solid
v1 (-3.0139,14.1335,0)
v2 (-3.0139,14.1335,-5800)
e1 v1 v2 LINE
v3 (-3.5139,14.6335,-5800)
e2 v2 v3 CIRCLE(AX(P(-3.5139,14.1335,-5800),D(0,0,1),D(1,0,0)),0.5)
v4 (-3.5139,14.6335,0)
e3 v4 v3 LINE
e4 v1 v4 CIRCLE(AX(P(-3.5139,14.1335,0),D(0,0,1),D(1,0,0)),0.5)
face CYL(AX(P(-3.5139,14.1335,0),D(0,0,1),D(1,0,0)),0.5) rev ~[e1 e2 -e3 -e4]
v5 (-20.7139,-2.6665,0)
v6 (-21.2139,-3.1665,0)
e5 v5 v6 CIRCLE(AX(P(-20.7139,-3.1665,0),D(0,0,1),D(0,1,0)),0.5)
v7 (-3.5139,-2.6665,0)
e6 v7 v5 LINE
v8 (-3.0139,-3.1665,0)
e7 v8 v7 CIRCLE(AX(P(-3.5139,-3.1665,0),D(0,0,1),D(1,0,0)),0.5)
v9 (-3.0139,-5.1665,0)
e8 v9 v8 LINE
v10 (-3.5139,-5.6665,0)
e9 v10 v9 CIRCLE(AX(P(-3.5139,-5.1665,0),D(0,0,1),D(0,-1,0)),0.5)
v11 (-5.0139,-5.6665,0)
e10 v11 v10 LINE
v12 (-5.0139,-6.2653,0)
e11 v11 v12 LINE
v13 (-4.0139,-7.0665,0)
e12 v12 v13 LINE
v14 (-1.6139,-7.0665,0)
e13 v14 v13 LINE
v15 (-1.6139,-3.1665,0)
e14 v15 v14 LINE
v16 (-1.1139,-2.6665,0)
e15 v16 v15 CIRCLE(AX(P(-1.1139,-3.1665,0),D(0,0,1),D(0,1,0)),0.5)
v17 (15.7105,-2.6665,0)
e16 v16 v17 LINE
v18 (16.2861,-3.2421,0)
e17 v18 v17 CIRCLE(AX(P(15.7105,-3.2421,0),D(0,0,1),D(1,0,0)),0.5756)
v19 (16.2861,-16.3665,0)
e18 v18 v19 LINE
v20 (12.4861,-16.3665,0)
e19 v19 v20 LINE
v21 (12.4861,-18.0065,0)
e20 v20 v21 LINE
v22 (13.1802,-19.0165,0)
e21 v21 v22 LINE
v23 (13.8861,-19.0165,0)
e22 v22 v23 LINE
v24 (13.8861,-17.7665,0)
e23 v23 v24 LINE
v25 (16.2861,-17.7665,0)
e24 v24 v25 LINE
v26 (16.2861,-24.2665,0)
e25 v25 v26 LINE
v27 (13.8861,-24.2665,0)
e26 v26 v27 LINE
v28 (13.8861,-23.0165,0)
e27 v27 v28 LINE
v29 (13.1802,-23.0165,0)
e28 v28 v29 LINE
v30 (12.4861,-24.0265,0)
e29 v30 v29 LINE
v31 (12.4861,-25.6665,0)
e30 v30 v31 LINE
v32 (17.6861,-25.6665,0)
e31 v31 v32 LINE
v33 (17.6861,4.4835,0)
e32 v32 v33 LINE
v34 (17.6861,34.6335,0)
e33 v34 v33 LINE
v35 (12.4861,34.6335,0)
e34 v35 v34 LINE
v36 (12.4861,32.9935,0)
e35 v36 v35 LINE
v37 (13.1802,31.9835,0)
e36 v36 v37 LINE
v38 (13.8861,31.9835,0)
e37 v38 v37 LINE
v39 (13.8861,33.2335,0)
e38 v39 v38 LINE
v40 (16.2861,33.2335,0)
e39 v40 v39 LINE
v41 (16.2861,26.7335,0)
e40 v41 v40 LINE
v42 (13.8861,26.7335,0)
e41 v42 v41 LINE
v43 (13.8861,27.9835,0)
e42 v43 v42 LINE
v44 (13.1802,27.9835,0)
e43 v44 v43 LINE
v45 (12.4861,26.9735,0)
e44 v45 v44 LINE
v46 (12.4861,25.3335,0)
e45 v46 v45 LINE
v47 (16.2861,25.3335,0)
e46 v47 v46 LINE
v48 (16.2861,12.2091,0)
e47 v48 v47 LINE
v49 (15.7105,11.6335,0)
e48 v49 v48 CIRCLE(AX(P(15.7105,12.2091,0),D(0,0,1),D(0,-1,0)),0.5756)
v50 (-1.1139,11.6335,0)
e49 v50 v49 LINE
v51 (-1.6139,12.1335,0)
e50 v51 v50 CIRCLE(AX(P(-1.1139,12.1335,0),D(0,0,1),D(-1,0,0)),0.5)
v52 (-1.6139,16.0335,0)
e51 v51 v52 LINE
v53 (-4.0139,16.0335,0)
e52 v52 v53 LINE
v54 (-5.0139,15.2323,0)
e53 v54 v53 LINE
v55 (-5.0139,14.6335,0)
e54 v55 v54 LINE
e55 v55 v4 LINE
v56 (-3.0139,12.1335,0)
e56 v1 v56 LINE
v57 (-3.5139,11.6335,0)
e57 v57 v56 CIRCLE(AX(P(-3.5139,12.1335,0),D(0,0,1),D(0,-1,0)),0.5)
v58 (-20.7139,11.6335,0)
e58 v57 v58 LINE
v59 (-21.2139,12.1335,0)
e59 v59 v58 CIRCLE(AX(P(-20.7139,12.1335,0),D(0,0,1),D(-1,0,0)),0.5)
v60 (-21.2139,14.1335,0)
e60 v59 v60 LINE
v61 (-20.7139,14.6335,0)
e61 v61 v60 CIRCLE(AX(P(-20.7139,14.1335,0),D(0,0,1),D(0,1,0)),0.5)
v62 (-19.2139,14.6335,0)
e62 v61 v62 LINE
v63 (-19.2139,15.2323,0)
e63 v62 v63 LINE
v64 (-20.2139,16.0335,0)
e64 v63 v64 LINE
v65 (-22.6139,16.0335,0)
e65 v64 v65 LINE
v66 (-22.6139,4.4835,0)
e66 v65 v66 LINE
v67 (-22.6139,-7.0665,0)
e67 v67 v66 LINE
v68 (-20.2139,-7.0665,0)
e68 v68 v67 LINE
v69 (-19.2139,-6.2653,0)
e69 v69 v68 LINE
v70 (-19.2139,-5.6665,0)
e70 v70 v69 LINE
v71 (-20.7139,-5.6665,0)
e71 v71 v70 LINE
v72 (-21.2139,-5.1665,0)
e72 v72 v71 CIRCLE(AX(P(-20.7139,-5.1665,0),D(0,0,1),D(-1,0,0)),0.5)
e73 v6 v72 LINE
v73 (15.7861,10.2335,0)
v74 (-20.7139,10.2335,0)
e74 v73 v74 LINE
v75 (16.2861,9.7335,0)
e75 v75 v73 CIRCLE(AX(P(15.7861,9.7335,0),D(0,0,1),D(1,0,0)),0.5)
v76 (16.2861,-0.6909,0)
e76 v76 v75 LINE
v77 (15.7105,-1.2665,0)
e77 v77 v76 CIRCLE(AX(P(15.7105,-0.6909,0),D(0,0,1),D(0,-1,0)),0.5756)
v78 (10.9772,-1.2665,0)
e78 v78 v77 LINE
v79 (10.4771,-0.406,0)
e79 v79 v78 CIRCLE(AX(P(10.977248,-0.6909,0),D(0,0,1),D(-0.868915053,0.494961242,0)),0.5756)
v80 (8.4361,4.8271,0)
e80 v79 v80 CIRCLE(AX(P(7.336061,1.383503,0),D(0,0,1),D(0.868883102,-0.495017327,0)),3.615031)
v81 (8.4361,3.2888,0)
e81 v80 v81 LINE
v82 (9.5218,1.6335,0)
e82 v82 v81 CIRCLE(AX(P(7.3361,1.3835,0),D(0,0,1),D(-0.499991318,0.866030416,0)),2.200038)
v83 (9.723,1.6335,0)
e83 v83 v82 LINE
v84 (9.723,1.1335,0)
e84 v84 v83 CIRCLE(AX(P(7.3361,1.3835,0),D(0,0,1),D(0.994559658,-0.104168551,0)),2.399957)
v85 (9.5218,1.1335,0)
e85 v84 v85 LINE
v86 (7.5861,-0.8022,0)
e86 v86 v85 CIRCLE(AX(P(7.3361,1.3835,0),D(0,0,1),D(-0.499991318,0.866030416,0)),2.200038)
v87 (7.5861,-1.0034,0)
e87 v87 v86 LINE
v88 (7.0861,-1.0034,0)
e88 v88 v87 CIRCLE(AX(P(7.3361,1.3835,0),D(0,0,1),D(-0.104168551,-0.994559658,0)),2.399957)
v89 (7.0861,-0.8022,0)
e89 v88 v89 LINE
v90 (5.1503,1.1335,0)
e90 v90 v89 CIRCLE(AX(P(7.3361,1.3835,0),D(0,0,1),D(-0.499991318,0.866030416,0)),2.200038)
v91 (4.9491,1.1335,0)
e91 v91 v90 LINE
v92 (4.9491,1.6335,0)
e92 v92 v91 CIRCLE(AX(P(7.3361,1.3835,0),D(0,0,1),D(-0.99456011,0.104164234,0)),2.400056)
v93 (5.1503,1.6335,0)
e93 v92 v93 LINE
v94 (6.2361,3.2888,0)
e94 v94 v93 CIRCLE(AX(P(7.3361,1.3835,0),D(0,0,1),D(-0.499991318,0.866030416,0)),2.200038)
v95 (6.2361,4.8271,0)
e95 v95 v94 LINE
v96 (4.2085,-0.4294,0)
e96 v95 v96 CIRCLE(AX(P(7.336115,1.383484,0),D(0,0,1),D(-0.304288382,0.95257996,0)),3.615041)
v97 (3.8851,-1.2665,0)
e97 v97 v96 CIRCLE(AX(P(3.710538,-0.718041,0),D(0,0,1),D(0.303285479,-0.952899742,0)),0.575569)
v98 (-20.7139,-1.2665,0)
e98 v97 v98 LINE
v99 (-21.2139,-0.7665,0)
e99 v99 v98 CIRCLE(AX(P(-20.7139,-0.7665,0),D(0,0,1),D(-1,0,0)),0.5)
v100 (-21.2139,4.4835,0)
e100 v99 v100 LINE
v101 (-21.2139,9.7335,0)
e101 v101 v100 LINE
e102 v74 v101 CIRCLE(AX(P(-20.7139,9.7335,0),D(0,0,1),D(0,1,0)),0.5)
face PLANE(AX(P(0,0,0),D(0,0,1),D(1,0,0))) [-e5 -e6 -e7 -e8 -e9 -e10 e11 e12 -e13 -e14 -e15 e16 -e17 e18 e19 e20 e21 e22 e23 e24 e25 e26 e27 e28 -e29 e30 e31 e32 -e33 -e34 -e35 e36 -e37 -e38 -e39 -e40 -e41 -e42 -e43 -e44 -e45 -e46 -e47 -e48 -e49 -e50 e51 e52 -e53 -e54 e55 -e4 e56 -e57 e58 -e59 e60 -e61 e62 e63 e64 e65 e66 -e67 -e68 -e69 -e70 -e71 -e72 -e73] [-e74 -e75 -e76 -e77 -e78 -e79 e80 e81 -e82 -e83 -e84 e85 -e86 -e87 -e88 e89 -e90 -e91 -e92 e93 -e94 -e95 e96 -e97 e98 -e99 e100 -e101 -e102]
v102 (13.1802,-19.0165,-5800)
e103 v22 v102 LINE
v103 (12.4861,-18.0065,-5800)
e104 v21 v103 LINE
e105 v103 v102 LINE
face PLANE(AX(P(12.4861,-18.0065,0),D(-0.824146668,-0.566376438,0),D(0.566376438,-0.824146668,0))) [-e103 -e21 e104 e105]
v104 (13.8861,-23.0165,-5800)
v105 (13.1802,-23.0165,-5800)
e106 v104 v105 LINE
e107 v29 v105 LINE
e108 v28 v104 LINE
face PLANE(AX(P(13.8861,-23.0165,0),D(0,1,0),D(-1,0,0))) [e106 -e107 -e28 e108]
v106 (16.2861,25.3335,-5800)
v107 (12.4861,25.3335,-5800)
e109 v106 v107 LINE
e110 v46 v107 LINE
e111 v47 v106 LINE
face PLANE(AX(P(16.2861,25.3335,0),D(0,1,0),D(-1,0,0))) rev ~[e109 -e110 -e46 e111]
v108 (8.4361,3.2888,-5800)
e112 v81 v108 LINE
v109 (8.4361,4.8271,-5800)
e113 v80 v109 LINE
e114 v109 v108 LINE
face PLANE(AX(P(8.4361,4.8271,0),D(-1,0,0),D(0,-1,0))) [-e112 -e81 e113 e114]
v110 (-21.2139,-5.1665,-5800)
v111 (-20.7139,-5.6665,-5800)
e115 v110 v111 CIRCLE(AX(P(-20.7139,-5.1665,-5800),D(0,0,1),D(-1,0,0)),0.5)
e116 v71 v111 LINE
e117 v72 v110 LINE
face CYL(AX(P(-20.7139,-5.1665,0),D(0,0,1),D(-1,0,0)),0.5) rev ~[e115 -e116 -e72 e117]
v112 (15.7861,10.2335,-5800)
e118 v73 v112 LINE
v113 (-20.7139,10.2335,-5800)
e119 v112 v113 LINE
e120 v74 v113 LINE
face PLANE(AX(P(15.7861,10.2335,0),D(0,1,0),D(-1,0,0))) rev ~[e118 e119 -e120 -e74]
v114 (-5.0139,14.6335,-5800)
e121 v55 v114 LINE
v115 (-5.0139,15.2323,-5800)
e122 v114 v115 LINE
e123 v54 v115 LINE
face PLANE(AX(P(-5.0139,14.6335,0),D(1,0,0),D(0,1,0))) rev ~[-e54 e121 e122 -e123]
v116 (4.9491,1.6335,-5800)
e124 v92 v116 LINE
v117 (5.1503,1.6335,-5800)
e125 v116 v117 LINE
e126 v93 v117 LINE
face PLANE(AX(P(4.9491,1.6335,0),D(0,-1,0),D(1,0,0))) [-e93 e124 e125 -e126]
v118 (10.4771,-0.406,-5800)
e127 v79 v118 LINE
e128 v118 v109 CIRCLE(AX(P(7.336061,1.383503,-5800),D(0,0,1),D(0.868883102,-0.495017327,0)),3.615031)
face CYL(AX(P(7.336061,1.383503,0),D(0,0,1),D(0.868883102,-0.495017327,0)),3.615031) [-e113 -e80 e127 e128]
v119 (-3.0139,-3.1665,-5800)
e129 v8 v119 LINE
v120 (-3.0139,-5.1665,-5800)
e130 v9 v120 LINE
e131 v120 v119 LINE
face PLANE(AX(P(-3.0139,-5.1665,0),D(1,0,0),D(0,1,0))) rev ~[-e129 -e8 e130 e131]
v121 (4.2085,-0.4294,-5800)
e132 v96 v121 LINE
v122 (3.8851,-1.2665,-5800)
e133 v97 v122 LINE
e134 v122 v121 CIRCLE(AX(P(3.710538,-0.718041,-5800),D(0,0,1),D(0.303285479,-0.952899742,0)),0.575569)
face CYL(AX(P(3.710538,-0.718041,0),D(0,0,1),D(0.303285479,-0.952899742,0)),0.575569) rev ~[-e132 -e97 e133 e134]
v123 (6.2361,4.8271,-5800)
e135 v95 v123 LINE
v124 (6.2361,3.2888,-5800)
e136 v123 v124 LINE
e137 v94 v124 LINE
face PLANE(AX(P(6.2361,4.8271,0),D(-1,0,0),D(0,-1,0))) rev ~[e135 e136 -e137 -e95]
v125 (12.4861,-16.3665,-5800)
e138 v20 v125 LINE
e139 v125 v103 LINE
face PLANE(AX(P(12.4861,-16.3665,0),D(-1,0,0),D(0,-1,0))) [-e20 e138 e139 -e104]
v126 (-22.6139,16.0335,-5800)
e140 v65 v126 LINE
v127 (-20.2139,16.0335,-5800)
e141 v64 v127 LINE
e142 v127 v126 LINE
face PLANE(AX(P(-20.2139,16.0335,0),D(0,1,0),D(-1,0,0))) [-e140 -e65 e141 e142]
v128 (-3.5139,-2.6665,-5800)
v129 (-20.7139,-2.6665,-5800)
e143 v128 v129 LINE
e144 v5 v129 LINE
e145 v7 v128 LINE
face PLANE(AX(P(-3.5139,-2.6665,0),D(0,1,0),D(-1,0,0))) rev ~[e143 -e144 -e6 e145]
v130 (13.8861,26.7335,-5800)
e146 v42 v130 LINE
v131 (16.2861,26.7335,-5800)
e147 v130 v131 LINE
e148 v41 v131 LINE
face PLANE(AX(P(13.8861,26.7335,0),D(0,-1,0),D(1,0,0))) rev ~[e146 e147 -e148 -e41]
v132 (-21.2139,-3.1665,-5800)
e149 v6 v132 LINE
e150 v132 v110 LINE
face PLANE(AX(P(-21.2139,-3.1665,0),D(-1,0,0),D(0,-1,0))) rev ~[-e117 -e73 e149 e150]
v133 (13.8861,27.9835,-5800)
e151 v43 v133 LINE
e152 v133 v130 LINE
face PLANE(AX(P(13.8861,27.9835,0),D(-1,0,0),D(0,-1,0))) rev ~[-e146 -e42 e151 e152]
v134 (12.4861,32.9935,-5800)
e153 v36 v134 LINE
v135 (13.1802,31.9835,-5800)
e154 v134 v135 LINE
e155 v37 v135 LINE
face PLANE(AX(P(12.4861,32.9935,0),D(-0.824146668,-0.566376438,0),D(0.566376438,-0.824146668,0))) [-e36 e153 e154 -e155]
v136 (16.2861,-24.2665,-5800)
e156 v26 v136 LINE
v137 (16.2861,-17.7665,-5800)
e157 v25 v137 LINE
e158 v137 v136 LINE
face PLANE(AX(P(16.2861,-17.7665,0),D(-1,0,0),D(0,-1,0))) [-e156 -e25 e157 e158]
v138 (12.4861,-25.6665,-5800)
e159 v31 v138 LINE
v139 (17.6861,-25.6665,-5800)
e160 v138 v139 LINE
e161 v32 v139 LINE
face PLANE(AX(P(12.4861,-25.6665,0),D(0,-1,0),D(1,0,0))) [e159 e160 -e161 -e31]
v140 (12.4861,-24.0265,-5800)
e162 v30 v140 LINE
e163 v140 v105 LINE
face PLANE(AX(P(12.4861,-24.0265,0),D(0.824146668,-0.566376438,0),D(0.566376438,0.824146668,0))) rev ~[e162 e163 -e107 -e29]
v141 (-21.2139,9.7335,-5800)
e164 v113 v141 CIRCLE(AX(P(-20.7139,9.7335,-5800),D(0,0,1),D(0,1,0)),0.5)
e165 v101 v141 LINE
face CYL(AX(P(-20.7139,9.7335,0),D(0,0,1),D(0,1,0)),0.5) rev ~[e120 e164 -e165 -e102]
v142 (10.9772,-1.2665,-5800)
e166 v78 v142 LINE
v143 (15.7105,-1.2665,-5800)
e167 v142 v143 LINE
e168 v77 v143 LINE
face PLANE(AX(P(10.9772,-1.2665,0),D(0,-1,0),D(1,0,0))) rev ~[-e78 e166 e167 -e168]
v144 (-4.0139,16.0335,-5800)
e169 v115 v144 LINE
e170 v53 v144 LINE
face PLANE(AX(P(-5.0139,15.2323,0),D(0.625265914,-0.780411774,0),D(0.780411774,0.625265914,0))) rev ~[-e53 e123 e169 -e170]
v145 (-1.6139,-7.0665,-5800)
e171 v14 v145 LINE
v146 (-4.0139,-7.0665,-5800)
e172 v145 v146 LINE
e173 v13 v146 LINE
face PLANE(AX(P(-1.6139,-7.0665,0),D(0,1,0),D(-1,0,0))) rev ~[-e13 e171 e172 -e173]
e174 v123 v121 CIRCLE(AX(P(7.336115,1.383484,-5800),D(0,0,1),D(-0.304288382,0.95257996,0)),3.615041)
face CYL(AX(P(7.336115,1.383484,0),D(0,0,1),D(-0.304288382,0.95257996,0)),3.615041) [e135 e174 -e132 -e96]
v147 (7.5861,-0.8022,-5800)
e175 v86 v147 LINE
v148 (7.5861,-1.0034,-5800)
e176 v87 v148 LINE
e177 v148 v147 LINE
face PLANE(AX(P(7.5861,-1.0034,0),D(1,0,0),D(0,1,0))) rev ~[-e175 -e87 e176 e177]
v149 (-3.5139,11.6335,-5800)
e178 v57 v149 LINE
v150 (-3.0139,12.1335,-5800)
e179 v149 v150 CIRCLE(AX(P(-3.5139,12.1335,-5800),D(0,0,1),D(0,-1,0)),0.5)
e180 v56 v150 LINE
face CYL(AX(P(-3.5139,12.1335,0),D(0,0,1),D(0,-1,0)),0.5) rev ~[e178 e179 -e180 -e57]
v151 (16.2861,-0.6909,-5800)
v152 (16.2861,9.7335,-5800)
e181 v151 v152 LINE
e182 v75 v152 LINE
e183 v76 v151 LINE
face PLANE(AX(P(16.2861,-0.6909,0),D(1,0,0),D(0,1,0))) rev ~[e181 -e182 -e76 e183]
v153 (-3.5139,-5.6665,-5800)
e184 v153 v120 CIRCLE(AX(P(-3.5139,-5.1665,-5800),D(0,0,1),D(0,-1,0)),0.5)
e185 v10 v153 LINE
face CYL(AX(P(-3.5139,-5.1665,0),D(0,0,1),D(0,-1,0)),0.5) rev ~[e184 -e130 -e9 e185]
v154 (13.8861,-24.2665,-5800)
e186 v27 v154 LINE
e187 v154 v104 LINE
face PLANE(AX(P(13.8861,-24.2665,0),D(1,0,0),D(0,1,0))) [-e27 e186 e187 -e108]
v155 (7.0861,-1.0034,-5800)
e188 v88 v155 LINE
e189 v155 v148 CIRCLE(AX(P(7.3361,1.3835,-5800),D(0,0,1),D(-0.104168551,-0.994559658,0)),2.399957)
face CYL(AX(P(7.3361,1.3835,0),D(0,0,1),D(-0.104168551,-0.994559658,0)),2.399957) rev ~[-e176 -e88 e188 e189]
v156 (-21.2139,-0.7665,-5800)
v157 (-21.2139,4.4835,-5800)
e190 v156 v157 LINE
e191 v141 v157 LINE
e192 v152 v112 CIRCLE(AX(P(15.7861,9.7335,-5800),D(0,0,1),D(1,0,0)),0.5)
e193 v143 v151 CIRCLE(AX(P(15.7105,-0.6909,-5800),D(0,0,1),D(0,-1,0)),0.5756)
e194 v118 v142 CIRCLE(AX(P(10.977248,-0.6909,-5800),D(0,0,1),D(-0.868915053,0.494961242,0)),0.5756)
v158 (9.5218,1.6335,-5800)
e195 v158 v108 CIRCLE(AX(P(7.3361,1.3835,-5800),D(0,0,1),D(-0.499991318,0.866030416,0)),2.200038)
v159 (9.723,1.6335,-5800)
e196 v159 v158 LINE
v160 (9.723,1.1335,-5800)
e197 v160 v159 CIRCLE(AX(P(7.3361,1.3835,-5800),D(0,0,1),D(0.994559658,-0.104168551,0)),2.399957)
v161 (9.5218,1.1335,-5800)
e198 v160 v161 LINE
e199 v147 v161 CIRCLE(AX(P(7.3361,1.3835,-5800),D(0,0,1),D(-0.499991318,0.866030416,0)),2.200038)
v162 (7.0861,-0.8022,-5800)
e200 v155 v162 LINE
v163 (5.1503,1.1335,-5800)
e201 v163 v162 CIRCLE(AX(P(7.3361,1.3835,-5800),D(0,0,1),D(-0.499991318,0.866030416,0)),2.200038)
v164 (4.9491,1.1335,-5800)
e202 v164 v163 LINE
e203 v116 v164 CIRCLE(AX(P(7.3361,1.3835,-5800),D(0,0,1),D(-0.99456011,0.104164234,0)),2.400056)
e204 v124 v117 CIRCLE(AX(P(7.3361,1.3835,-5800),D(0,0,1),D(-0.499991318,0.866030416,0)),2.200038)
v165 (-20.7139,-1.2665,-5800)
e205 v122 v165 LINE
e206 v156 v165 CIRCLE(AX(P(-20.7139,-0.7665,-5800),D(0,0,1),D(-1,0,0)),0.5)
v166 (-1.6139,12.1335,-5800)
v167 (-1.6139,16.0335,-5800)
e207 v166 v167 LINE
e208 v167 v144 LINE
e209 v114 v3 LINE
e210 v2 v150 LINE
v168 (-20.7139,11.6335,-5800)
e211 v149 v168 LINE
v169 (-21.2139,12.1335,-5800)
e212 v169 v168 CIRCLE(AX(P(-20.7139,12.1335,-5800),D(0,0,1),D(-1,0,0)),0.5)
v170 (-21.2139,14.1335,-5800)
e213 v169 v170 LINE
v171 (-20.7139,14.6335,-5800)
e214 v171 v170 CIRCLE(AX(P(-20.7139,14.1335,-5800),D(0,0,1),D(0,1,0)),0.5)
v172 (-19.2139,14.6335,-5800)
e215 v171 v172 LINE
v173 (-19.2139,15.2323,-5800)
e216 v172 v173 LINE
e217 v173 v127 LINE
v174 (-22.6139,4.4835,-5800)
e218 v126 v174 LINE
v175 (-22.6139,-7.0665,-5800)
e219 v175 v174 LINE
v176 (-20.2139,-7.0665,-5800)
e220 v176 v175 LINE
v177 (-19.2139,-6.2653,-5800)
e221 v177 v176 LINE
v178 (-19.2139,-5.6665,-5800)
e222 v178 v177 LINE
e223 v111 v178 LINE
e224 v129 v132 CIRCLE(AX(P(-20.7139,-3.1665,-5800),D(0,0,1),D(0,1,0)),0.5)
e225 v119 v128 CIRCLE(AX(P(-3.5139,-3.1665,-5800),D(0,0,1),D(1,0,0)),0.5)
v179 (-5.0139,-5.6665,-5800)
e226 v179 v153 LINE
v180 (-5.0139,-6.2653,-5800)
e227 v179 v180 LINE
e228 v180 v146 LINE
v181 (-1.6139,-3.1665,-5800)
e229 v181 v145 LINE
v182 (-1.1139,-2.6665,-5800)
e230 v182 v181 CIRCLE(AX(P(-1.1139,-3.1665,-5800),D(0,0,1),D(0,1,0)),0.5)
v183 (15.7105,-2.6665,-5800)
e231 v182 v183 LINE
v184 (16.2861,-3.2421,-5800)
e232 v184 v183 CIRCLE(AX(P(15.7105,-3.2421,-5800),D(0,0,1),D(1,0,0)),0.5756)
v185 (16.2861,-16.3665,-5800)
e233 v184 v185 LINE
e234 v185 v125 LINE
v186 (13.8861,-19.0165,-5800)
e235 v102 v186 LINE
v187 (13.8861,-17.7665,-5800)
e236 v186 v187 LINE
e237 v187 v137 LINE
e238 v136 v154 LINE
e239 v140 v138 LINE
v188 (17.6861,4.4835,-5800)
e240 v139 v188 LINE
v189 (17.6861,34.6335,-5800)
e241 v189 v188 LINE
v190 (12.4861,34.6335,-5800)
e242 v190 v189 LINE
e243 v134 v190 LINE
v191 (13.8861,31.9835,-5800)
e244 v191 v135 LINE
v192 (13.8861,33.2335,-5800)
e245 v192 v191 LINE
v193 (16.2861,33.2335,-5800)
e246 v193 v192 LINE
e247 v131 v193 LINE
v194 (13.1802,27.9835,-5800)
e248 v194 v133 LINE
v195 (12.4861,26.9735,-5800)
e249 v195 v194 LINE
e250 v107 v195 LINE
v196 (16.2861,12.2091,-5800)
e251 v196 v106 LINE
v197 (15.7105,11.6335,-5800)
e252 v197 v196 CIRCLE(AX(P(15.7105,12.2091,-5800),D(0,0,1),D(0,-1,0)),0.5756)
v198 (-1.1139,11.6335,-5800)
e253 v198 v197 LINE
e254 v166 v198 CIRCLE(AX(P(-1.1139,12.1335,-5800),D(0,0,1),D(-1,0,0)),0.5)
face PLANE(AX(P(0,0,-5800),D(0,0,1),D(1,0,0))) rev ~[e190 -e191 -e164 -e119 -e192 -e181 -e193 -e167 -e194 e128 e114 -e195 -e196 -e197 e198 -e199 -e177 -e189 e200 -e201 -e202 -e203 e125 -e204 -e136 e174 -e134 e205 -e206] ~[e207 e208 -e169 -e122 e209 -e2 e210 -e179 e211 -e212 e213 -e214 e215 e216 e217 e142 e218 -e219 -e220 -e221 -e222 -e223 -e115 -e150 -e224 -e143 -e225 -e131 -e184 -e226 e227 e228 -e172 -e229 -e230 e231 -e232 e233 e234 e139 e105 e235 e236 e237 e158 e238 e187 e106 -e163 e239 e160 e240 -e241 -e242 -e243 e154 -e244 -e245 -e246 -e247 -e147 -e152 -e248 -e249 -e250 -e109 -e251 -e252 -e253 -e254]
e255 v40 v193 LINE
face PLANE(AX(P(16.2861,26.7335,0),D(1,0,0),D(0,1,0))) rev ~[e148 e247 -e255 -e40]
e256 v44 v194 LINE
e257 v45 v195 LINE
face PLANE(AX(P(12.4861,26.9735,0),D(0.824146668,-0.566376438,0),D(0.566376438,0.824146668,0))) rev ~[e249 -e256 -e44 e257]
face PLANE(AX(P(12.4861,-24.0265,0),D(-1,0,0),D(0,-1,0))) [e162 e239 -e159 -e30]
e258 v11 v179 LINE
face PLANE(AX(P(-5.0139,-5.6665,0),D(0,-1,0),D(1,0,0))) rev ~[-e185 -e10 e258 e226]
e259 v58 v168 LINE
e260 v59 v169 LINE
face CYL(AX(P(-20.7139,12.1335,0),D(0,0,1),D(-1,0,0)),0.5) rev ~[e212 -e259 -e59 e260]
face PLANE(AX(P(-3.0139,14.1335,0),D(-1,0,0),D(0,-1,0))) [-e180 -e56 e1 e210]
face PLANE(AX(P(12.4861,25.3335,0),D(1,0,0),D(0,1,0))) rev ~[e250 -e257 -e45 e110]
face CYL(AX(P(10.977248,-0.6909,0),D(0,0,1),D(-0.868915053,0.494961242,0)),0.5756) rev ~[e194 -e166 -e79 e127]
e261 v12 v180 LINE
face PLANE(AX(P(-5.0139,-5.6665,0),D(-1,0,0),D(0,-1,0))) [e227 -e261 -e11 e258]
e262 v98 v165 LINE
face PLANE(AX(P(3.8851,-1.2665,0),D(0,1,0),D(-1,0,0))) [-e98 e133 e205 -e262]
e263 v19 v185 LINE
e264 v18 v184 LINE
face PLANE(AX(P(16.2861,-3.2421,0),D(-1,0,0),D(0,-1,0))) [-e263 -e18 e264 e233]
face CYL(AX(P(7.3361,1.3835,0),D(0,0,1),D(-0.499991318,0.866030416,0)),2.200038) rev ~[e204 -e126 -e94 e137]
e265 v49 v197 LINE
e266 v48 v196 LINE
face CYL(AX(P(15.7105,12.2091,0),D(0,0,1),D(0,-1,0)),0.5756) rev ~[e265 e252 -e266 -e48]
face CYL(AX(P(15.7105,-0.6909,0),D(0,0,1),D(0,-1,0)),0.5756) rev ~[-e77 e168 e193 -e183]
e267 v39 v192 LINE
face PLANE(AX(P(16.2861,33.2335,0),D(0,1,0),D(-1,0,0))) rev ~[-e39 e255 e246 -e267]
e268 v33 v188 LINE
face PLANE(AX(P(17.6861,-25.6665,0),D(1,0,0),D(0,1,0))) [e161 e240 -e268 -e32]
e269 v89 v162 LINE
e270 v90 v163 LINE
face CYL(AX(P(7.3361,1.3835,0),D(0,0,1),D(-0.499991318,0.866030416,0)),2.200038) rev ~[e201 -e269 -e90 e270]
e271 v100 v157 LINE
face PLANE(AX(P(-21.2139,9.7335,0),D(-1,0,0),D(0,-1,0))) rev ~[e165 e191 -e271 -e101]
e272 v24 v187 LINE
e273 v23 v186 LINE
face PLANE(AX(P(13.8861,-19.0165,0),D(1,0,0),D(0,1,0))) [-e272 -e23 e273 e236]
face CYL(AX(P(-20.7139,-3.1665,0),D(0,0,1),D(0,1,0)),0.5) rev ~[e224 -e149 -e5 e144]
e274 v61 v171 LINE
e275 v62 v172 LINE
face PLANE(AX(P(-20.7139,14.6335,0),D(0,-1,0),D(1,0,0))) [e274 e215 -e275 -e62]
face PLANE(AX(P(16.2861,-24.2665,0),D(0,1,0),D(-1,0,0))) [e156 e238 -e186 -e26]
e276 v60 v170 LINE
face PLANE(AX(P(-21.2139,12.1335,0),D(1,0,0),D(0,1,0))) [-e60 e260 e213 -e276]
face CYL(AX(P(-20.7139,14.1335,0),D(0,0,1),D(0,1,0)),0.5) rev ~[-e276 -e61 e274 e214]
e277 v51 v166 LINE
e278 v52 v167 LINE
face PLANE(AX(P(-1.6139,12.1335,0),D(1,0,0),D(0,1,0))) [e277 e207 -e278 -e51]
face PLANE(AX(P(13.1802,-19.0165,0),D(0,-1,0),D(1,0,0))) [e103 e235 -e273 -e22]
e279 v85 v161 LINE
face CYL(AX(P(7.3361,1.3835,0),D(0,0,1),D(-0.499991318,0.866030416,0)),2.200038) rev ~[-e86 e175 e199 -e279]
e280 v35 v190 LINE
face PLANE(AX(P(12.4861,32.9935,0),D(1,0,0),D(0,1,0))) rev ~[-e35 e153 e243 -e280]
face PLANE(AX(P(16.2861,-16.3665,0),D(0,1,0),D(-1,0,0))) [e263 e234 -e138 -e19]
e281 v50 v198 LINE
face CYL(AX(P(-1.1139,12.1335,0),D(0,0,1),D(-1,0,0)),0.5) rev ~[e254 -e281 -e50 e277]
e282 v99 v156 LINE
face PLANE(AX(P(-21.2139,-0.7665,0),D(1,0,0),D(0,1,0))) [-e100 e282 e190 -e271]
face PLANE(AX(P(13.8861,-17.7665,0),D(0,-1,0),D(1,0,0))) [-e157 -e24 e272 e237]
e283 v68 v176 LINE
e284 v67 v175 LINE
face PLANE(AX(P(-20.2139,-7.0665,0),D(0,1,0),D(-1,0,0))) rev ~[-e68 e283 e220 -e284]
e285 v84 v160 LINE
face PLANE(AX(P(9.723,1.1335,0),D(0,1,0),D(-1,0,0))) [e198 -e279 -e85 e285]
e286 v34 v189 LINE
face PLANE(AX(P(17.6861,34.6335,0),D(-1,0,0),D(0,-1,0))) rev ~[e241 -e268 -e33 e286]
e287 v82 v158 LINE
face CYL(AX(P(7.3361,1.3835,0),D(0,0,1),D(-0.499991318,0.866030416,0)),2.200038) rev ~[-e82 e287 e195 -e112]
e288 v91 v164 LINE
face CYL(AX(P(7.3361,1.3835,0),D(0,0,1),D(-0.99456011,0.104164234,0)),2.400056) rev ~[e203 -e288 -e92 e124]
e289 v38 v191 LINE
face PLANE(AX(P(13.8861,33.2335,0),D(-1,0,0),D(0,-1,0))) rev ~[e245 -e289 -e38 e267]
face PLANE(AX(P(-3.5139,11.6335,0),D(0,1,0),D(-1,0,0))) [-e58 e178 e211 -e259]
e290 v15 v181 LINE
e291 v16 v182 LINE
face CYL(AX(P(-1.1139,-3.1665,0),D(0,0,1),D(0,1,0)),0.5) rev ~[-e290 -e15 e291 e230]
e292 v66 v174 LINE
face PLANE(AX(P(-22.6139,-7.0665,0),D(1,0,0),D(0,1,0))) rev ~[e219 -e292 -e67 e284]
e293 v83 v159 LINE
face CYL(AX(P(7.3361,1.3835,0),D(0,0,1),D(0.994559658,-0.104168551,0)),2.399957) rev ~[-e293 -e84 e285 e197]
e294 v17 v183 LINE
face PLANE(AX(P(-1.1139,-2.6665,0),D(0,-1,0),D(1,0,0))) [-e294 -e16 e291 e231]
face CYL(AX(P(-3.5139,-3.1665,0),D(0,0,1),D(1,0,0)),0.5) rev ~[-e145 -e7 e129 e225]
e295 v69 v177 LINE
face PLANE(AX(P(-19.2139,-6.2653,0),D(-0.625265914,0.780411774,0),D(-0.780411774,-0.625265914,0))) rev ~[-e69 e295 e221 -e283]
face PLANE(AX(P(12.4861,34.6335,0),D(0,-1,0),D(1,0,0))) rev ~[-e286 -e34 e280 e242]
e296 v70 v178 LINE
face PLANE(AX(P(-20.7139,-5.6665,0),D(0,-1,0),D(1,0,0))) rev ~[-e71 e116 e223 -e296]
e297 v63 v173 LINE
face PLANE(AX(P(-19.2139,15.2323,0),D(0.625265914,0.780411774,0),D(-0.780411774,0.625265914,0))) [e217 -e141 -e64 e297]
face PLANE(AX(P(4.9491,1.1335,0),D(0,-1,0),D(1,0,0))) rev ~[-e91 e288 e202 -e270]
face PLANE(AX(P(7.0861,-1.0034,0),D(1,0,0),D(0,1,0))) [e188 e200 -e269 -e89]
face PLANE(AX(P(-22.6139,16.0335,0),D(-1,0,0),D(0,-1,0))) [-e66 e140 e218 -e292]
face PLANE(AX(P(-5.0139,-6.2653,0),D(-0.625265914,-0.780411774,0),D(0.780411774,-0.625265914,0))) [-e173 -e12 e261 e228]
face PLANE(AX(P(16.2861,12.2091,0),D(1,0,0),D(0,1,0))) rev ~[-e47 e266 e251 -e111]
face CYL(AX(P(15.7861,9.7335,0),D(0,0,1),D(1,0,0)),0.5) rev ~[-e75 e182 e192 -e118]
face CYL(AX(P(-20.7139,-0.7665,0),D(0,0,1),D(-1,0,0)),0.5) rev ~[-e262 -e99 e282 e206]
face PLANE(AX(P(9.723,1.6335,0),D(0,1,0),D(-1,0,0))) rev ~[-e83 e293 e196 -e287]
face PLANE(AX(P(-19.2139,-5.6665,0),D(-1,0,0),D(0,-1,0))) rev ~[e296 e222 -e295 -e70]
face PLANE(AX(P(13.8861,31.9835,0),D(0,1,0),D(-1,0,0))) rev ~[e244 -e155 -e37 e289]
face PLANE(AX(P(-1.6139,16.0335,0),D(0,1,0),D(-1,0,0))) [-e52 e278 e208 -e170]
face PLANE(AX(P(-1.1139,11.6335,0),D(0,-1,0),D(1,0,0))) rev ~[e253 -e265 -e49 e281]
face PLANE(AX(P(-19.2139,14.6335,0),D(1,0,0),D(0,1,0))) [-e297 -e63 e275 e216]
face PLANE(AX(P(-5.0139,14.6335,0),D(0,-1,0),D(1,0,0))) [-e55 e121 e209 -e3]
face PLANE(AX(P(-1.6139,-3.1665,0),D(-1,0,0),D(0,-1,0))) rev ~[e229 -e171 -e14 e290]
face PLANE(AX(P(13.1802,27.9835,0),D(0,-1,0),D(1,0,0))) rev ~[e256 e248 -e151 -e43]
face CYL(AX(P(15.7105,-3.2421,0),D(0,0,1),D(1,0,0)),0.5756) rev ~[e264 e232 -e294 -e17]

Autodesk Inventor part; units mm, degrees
ref_plane "YZ Plane" through (0, 0, 0) normal (1, 0, 0) x (0, 1, 0)
ref_plane "XZ Plane" through (0, 0, 0) normal (0, 1, 0) x (-1, 0, 0)
ref_plane "XY Plane" through (0, 0, 0) normal (0, 0, 1) x (1, 0, 0)
sketch "Boceto1" plane through (0, 0, 0) normal (0, 0, 1) x (1, 0, 0)
  line L0 (-1.1139, -2.6665) -> (15.7105, -2.6665)
  line L1 (16.2861, -3.2421) -> (16.2861, -16.3665)
  line L2 (16.2861, -16.3665) -> (12.4861, -16.3665)
  line L3 (12.4861, -16.3665) -> (12.4861, -18.0065)
  line L4 (13.1802, -19.0165) -> (13.8861, -19.0165)
  line L5 (13.8861, -19.0165) -> (13.8861, -17.7665)
  line L6 (13.8861, -17.7665) -> (16.2861, -17.7665)
  line L7 (16.2861, -17.7665) -> (16.2861, -24.2665)
  line L8 (16.2861, -24.2665) -> (13.8861, -24.2665)
  line L9 (13.8861, -24.2665) -> (13.8861, -23.0165)
  line L10 (13.8861, -23.0165) -> (13.1802, -23.0165)
  line L11 (12.4861, -24.0265) -> (12.4861, -25.6665)
  line L12 (12.4861, -25.6665) -> (17.6861, -25.6665)
  line L13 (17.6861, -25.6665) -> (17.6861, 4.4835)
  line L14 (16.2861, -0.6909) -> (16.2861, 9.7335)
  line L15 (7.3361, 2.6189) -> (7.3361, -2.6665) construction
  arc A0 (6.2361, 3.2888) -> (8.4361, 3.2888) centre (7.3361, 1.3835) ccw
  line L16 (4.9491, 1.1335) -> (5.1503, 1.1335)
  line L17 (4.9491, 1.6335) -> (5.1503, 1.6335)
  line L18 (10.9772, -1.2665) -> (15.7105, -1.2665)
  line L19 (9.723, 1.1335) -> (9.5218, 1.1335)
  line L20 (9.723, 1.6335) -> (9.5218, 1.6335)
  line L21 (7.5861, -1.0034) -> (7.5861, -0.8022)
  line L22 (7.0861, -1.0034) -> (7.0861, -0.8022)
  arc A1 (7.0861, -1.0034) -> (7.5861, -1.0034) centre (7.3361, 1.3835) ccw
  arc A2 (9.723, 1.1335) -> (9.723, 1.6335) centre (7.3361, 1.3835) ccw
  arc A3 (4.9491, 1.6335) -> (4.9491, 1.1335) centre (7.3361, 1.3835) ccw
  circle A4 centre (7.3361, 1.3835) radius 2.4 construction
  line L23 (6.2361, 4.8271) -> (6.2361, 3.2888)
  line L24 (8.4361, 4.8271) -> (8.4361, 3.2888)
  arc A5 (10.4771, -0.406) -> (8.4361, 4.8271) centre (7.3361, 1.3835) ccw
  arc A6 (6.2361, 4.8271) -> (4.2085, -0.4294) centre (7.3361, 1.3835) ccw
  line L25 (12.4861, -18.0065) -> (13.1802, -19.0165)
  line L26 (12.4861, -24.0265) -> (13.1802, -23.0165)
  arc A7 (15.7105, -1.2665) -> (16.2861, -0.6909) centre (15.7105, -0.6909) ccw
  arc A8 (16.2861, -3.2421) -> (15.7105, -2.6665) centre (15.7105, -3.2421) ccw
  arc A9 (3.8851, -1.2665) -> (4.2085, -0.4294) centre (3.7105, -0.718) ccw
  arc A10 (10.4771, -0.406) -> (10.9772, -1.2665) centre (10.9772, -0.6909) ccw
  line L27 (-26.537, 4.4835) -> (21.9694, 4.4835) construction
  line L28 (-1.6139, -3.1665) -> (-1.6139, -7.0665)
  line L29 (-1.6139, -7.0665) -> (-4.0139, -7.0665)
  line L30 (-5.0139, -5.6665) -> (-3.5139, -5.6665)
  line L31 (-3.0139, -5.1665) -> (-3.0139, -3.1665)
  line L32 (-3.5139, -2.6665) -> (-20.7139, -2.6665)
  line L33 (-21.2139, -3.1665) -> (-21.2139, -5.1665)
  line L34 (-20.7139, -5.6665) -> (-19.2139, -5.6665)
  line L35 (-20.2139, -7.0665) -> (-22.6139, -7.0665)
  line L36 (3.8851, -1.2665) -> (-20.7139, -1.2665)
  line L37 (-21.2139, -0.7665) -> (-21.2139, 4.4835)
  line L38 (-22.6139, -7.0665) -> (-22.6139, 4.4835)
  line L39 (-19.2139, -5.6665) -> (-19.2139, -6.2653)
  line L40 (-19.2139, -6.2653) -> (-20.2139, -7.0665)
  line L41 (-5.0139, -5.6665) -> (-5.0139, -6.2653)
  line L42 (-5.0139, -6.2653) -> (-4.0139, -7.0665)
  line L43 (4.3997, 1.3835) -> (10.1666, 1.3835) construction
  arc A11 (-1.1139, -2.6665) -> (-1.6139, -3.1665) centre (-1.1139, -3.1665) ccw
  arc A12 (-3.0139, -3.1665) -> (-3.5139, -2.6665) centre (-3.5139, -3.1665) ccw
  arc A13 (-3.5139, -5.6665) -> (-3.0139, -5.1665) centre (-3.5139, -5.1665) ccw
  arc A14 (-20.7139, -2.6665) -> (-21.2139, -3.1665) centre (-20.7139, -3.1665) ccw
  arc A15 (-21.2139, -5.1665) -> (-20.7139, -5.6665) centre (-20.7139, -5.1665) ccw
  arc A16 (-21.2139, -0.7665) -> (-20.7139, -1.2665) centre (-20.7139, -0.7665) ccw
  line L44 (-1.1139, 11.6335) -> (15.7105, 11.6335)
  line L45 (16.2861, 12.2091) -> (16.2861, 25.3335)
  line L46 (16.2861, 25.3335) -> (12.4861, 25.3335)
  line L47 (12.4861, 25.3335) -> (12.4861, 26.9735)
  line L48 (13.1802, 27.9835) -> (13.8861, 27.9835)
  line L49 (13.8861, 27.9835) -> (13.8861, 26.7335)
  line L50 (13.8861, 26.7335) -> (16.2861, 26.7335)
  line L51 (16.2861, 26.7335) -> (16.2861, 33.2335)
  line L52 (16.2861, 33.2335) -> (13.8861, 33.2335)
  line L53 (13.8861, 33.2335) -> (13.8861, 31.9835)
  line L54 (13.8861, 31.9835) -> (13.1802, 31.9835)
  line L55 (12.4861, 32.9935) -> (12.4861, 34.6335)
  line L56 (12.4861, 34.6335) -> (17.6861, 34.6335)
  line L57 (17.6861, 34.6335) -> (17.6861, 4.4835)
  line L58 (12.4861, 26.9735) -> (13.1802, 27.9835)
  line L59 (12.4861, 32.9935) -> (13.1802, 31.9835)
  arc A17 (15.7105, 11.6335) -> (16.2861, 12.2091) centre (15.7105, 12.2091) ccw
  line L60 (-1.6139, 12.1335) -> (-1.6139, 16.0335)
  line L61 (-1.6139, 16.0335) -> (-4.0139, 16.0335)
  line L62 (-5.0139, 14.6335) -> (-3.5139, 14.6335)
  line L63 (-3.0139, 14.1335) -> (-3.0139, 12.1335)
  line L64 (-3.5139, 11.6335) -> (-20.7139, 11.6335)
  line L65 (-21.2139, 12.1335) -> (-21.2139, 14.1335)
  line L66 (-20.7139, 14.6335) -> (-19.2139, 14.6335)
  line L67 (-20.2139, 16.0335) -> (-22.6139, 16.0335)
  line L68 (15.7861, 10.2335) -> (-20.7139, 10.2335)
  line L69 (-21.2139, 9.7335) -> (-21.2139, 4.4835)
  line L70 (-22.6139, 16.0335) -> (-22.6139, 4.4835)
  line L71 (-19.2139, 14.6335) -> (-19.2139, 15.2323)
  line L72 (-19.2139, 15.2323) -> (-20.2139, 16.0335)
  line L73 (-5.0139, 14.6335) -> (-5.0139, 15.2323)
  line L74 (-5.0139, 15.2323) -> (-4.0139, 16.0335)
  arc A18 (-1.6139, 12.1335) -> (-1.1139, 11.6335) centre (-1.1139, 12.1335) ccw
  arc A19 (-3.5139, 11.6335) -> (-3.0139, 12.1335) centre (-3.5139, 12.1335) ccw
  arc A20 (-3.0139, 14.1335) -> (-3.5139, 14.6335) centre (-3.5139, 14.1335) ccw
  arc A21 (-21.2139, 12.1335) -> (-20.7139, 11.6335) centre (-20.7139, 12.1335) ccw
  arc A22 (-20.7139, 14.6335) -> (-21.2139, 14.1335) centre (-20.7139, 14.1335) ccw
  arc A23 (-20.7139, 10.2335) -> (-21.2139, 9.7335) centre (-20.7139, 9.7335) ccw
  arc A24 (16.2861, 9.7335) -> (15.7861, 10.2335) centre (15.7861, 9.7335) ccw
  point P0 (4.8546, -1.2453)
  point P1 (9.7949, -1.2665)
  point P2 (7.2983, -2.6665)
  point P3 (16.2861, -21.0165)
  point P4 (5.0497, 1.6335)
  point P5 (9.6224, 1.6335)
  point P6 (16.2861, 29.9835)
  dimension "d4" = 1.4
  dimension "d5" = 1.4
  dimension "d6" = 1.4
  dimension "d7" = 1.4
  dimension "d8" = 1.4
  dimension "d9" = 1.4
  dimension "d12" = 4.4
  dimension "d19" = 0.5
  dimension "d22" = 4.05
  dimension "d26" = 0.5
  dimension "d30" = 0.5
  dimension "d32" = 4.8
  dimension "d35" = 1.1
  dimension "d36" = 2.2
  dimension "d37" = 1.415
  dimension "d38" = 1.415
  dimension "d39" = 0.2
  dimension "d40" = 0.2
  dimension "d43" = 23
  dimension "d44" = 4
  dimension "d45" = 9.3
  dimension "d46" = 6.5
  dimension "d50" = 5.2
  dimension "d53" = 0.2
  dimension "d55" = 0.2
  dimension "d56" = 0.25
  dimension "d57" = 0.2
  dimension "d58" = 1.4
  dimension "d66" = 2
  dimension "d67" = 2
  dimension "d68" = 2.4
  dimension "d69" = 3.01
  dimension "d70" = 6.02
  dimension "d71" = 34.5
  dimension "d72" = 111
  dimension "d74" = 0.7058
  dimension "d75" = 0.7058
  dimension "d90" = 30.15
  dimension "d91" = 1.4
  dimension "d92" = 1.4
  dimension "d93" = 1.4
  dimension "d94" = 1.4
  dimension "d96" = 3
  dimension "d97" = 14.2
  dimension "d98" = 18.2
  dimension "d99" = 21
  dimension "d100" = 40.3
  dimension "d101" = 10.35
  dimension "d102" = 0.25
  dimension "d103" = 0.25
  dimension "d105" = 3.4
  dimension "d106" = 3.4
  dimension "d107" = 1
  dimension "d108" = 38.7
  dimension "d109" = 38.7
  dimension "d118" = 0.5
  dimension "d143" = 0.5
  dimension "d144" = 60.3
  dimension "d145" = 14.3
  dimension "d146" = 23.1
  dimension "d147" = 11.5
  dimension "d148" = 0.5756
  dimension "d149" = 1.4
  dimension "d150" = 4.2833
extrude "Extrusión1" add sketch "Boceto1" against normal blind 5800
properties part number "PLANTILLA SP40-04A TRAVESAÑO CENTRAL" material "Aluminio"
